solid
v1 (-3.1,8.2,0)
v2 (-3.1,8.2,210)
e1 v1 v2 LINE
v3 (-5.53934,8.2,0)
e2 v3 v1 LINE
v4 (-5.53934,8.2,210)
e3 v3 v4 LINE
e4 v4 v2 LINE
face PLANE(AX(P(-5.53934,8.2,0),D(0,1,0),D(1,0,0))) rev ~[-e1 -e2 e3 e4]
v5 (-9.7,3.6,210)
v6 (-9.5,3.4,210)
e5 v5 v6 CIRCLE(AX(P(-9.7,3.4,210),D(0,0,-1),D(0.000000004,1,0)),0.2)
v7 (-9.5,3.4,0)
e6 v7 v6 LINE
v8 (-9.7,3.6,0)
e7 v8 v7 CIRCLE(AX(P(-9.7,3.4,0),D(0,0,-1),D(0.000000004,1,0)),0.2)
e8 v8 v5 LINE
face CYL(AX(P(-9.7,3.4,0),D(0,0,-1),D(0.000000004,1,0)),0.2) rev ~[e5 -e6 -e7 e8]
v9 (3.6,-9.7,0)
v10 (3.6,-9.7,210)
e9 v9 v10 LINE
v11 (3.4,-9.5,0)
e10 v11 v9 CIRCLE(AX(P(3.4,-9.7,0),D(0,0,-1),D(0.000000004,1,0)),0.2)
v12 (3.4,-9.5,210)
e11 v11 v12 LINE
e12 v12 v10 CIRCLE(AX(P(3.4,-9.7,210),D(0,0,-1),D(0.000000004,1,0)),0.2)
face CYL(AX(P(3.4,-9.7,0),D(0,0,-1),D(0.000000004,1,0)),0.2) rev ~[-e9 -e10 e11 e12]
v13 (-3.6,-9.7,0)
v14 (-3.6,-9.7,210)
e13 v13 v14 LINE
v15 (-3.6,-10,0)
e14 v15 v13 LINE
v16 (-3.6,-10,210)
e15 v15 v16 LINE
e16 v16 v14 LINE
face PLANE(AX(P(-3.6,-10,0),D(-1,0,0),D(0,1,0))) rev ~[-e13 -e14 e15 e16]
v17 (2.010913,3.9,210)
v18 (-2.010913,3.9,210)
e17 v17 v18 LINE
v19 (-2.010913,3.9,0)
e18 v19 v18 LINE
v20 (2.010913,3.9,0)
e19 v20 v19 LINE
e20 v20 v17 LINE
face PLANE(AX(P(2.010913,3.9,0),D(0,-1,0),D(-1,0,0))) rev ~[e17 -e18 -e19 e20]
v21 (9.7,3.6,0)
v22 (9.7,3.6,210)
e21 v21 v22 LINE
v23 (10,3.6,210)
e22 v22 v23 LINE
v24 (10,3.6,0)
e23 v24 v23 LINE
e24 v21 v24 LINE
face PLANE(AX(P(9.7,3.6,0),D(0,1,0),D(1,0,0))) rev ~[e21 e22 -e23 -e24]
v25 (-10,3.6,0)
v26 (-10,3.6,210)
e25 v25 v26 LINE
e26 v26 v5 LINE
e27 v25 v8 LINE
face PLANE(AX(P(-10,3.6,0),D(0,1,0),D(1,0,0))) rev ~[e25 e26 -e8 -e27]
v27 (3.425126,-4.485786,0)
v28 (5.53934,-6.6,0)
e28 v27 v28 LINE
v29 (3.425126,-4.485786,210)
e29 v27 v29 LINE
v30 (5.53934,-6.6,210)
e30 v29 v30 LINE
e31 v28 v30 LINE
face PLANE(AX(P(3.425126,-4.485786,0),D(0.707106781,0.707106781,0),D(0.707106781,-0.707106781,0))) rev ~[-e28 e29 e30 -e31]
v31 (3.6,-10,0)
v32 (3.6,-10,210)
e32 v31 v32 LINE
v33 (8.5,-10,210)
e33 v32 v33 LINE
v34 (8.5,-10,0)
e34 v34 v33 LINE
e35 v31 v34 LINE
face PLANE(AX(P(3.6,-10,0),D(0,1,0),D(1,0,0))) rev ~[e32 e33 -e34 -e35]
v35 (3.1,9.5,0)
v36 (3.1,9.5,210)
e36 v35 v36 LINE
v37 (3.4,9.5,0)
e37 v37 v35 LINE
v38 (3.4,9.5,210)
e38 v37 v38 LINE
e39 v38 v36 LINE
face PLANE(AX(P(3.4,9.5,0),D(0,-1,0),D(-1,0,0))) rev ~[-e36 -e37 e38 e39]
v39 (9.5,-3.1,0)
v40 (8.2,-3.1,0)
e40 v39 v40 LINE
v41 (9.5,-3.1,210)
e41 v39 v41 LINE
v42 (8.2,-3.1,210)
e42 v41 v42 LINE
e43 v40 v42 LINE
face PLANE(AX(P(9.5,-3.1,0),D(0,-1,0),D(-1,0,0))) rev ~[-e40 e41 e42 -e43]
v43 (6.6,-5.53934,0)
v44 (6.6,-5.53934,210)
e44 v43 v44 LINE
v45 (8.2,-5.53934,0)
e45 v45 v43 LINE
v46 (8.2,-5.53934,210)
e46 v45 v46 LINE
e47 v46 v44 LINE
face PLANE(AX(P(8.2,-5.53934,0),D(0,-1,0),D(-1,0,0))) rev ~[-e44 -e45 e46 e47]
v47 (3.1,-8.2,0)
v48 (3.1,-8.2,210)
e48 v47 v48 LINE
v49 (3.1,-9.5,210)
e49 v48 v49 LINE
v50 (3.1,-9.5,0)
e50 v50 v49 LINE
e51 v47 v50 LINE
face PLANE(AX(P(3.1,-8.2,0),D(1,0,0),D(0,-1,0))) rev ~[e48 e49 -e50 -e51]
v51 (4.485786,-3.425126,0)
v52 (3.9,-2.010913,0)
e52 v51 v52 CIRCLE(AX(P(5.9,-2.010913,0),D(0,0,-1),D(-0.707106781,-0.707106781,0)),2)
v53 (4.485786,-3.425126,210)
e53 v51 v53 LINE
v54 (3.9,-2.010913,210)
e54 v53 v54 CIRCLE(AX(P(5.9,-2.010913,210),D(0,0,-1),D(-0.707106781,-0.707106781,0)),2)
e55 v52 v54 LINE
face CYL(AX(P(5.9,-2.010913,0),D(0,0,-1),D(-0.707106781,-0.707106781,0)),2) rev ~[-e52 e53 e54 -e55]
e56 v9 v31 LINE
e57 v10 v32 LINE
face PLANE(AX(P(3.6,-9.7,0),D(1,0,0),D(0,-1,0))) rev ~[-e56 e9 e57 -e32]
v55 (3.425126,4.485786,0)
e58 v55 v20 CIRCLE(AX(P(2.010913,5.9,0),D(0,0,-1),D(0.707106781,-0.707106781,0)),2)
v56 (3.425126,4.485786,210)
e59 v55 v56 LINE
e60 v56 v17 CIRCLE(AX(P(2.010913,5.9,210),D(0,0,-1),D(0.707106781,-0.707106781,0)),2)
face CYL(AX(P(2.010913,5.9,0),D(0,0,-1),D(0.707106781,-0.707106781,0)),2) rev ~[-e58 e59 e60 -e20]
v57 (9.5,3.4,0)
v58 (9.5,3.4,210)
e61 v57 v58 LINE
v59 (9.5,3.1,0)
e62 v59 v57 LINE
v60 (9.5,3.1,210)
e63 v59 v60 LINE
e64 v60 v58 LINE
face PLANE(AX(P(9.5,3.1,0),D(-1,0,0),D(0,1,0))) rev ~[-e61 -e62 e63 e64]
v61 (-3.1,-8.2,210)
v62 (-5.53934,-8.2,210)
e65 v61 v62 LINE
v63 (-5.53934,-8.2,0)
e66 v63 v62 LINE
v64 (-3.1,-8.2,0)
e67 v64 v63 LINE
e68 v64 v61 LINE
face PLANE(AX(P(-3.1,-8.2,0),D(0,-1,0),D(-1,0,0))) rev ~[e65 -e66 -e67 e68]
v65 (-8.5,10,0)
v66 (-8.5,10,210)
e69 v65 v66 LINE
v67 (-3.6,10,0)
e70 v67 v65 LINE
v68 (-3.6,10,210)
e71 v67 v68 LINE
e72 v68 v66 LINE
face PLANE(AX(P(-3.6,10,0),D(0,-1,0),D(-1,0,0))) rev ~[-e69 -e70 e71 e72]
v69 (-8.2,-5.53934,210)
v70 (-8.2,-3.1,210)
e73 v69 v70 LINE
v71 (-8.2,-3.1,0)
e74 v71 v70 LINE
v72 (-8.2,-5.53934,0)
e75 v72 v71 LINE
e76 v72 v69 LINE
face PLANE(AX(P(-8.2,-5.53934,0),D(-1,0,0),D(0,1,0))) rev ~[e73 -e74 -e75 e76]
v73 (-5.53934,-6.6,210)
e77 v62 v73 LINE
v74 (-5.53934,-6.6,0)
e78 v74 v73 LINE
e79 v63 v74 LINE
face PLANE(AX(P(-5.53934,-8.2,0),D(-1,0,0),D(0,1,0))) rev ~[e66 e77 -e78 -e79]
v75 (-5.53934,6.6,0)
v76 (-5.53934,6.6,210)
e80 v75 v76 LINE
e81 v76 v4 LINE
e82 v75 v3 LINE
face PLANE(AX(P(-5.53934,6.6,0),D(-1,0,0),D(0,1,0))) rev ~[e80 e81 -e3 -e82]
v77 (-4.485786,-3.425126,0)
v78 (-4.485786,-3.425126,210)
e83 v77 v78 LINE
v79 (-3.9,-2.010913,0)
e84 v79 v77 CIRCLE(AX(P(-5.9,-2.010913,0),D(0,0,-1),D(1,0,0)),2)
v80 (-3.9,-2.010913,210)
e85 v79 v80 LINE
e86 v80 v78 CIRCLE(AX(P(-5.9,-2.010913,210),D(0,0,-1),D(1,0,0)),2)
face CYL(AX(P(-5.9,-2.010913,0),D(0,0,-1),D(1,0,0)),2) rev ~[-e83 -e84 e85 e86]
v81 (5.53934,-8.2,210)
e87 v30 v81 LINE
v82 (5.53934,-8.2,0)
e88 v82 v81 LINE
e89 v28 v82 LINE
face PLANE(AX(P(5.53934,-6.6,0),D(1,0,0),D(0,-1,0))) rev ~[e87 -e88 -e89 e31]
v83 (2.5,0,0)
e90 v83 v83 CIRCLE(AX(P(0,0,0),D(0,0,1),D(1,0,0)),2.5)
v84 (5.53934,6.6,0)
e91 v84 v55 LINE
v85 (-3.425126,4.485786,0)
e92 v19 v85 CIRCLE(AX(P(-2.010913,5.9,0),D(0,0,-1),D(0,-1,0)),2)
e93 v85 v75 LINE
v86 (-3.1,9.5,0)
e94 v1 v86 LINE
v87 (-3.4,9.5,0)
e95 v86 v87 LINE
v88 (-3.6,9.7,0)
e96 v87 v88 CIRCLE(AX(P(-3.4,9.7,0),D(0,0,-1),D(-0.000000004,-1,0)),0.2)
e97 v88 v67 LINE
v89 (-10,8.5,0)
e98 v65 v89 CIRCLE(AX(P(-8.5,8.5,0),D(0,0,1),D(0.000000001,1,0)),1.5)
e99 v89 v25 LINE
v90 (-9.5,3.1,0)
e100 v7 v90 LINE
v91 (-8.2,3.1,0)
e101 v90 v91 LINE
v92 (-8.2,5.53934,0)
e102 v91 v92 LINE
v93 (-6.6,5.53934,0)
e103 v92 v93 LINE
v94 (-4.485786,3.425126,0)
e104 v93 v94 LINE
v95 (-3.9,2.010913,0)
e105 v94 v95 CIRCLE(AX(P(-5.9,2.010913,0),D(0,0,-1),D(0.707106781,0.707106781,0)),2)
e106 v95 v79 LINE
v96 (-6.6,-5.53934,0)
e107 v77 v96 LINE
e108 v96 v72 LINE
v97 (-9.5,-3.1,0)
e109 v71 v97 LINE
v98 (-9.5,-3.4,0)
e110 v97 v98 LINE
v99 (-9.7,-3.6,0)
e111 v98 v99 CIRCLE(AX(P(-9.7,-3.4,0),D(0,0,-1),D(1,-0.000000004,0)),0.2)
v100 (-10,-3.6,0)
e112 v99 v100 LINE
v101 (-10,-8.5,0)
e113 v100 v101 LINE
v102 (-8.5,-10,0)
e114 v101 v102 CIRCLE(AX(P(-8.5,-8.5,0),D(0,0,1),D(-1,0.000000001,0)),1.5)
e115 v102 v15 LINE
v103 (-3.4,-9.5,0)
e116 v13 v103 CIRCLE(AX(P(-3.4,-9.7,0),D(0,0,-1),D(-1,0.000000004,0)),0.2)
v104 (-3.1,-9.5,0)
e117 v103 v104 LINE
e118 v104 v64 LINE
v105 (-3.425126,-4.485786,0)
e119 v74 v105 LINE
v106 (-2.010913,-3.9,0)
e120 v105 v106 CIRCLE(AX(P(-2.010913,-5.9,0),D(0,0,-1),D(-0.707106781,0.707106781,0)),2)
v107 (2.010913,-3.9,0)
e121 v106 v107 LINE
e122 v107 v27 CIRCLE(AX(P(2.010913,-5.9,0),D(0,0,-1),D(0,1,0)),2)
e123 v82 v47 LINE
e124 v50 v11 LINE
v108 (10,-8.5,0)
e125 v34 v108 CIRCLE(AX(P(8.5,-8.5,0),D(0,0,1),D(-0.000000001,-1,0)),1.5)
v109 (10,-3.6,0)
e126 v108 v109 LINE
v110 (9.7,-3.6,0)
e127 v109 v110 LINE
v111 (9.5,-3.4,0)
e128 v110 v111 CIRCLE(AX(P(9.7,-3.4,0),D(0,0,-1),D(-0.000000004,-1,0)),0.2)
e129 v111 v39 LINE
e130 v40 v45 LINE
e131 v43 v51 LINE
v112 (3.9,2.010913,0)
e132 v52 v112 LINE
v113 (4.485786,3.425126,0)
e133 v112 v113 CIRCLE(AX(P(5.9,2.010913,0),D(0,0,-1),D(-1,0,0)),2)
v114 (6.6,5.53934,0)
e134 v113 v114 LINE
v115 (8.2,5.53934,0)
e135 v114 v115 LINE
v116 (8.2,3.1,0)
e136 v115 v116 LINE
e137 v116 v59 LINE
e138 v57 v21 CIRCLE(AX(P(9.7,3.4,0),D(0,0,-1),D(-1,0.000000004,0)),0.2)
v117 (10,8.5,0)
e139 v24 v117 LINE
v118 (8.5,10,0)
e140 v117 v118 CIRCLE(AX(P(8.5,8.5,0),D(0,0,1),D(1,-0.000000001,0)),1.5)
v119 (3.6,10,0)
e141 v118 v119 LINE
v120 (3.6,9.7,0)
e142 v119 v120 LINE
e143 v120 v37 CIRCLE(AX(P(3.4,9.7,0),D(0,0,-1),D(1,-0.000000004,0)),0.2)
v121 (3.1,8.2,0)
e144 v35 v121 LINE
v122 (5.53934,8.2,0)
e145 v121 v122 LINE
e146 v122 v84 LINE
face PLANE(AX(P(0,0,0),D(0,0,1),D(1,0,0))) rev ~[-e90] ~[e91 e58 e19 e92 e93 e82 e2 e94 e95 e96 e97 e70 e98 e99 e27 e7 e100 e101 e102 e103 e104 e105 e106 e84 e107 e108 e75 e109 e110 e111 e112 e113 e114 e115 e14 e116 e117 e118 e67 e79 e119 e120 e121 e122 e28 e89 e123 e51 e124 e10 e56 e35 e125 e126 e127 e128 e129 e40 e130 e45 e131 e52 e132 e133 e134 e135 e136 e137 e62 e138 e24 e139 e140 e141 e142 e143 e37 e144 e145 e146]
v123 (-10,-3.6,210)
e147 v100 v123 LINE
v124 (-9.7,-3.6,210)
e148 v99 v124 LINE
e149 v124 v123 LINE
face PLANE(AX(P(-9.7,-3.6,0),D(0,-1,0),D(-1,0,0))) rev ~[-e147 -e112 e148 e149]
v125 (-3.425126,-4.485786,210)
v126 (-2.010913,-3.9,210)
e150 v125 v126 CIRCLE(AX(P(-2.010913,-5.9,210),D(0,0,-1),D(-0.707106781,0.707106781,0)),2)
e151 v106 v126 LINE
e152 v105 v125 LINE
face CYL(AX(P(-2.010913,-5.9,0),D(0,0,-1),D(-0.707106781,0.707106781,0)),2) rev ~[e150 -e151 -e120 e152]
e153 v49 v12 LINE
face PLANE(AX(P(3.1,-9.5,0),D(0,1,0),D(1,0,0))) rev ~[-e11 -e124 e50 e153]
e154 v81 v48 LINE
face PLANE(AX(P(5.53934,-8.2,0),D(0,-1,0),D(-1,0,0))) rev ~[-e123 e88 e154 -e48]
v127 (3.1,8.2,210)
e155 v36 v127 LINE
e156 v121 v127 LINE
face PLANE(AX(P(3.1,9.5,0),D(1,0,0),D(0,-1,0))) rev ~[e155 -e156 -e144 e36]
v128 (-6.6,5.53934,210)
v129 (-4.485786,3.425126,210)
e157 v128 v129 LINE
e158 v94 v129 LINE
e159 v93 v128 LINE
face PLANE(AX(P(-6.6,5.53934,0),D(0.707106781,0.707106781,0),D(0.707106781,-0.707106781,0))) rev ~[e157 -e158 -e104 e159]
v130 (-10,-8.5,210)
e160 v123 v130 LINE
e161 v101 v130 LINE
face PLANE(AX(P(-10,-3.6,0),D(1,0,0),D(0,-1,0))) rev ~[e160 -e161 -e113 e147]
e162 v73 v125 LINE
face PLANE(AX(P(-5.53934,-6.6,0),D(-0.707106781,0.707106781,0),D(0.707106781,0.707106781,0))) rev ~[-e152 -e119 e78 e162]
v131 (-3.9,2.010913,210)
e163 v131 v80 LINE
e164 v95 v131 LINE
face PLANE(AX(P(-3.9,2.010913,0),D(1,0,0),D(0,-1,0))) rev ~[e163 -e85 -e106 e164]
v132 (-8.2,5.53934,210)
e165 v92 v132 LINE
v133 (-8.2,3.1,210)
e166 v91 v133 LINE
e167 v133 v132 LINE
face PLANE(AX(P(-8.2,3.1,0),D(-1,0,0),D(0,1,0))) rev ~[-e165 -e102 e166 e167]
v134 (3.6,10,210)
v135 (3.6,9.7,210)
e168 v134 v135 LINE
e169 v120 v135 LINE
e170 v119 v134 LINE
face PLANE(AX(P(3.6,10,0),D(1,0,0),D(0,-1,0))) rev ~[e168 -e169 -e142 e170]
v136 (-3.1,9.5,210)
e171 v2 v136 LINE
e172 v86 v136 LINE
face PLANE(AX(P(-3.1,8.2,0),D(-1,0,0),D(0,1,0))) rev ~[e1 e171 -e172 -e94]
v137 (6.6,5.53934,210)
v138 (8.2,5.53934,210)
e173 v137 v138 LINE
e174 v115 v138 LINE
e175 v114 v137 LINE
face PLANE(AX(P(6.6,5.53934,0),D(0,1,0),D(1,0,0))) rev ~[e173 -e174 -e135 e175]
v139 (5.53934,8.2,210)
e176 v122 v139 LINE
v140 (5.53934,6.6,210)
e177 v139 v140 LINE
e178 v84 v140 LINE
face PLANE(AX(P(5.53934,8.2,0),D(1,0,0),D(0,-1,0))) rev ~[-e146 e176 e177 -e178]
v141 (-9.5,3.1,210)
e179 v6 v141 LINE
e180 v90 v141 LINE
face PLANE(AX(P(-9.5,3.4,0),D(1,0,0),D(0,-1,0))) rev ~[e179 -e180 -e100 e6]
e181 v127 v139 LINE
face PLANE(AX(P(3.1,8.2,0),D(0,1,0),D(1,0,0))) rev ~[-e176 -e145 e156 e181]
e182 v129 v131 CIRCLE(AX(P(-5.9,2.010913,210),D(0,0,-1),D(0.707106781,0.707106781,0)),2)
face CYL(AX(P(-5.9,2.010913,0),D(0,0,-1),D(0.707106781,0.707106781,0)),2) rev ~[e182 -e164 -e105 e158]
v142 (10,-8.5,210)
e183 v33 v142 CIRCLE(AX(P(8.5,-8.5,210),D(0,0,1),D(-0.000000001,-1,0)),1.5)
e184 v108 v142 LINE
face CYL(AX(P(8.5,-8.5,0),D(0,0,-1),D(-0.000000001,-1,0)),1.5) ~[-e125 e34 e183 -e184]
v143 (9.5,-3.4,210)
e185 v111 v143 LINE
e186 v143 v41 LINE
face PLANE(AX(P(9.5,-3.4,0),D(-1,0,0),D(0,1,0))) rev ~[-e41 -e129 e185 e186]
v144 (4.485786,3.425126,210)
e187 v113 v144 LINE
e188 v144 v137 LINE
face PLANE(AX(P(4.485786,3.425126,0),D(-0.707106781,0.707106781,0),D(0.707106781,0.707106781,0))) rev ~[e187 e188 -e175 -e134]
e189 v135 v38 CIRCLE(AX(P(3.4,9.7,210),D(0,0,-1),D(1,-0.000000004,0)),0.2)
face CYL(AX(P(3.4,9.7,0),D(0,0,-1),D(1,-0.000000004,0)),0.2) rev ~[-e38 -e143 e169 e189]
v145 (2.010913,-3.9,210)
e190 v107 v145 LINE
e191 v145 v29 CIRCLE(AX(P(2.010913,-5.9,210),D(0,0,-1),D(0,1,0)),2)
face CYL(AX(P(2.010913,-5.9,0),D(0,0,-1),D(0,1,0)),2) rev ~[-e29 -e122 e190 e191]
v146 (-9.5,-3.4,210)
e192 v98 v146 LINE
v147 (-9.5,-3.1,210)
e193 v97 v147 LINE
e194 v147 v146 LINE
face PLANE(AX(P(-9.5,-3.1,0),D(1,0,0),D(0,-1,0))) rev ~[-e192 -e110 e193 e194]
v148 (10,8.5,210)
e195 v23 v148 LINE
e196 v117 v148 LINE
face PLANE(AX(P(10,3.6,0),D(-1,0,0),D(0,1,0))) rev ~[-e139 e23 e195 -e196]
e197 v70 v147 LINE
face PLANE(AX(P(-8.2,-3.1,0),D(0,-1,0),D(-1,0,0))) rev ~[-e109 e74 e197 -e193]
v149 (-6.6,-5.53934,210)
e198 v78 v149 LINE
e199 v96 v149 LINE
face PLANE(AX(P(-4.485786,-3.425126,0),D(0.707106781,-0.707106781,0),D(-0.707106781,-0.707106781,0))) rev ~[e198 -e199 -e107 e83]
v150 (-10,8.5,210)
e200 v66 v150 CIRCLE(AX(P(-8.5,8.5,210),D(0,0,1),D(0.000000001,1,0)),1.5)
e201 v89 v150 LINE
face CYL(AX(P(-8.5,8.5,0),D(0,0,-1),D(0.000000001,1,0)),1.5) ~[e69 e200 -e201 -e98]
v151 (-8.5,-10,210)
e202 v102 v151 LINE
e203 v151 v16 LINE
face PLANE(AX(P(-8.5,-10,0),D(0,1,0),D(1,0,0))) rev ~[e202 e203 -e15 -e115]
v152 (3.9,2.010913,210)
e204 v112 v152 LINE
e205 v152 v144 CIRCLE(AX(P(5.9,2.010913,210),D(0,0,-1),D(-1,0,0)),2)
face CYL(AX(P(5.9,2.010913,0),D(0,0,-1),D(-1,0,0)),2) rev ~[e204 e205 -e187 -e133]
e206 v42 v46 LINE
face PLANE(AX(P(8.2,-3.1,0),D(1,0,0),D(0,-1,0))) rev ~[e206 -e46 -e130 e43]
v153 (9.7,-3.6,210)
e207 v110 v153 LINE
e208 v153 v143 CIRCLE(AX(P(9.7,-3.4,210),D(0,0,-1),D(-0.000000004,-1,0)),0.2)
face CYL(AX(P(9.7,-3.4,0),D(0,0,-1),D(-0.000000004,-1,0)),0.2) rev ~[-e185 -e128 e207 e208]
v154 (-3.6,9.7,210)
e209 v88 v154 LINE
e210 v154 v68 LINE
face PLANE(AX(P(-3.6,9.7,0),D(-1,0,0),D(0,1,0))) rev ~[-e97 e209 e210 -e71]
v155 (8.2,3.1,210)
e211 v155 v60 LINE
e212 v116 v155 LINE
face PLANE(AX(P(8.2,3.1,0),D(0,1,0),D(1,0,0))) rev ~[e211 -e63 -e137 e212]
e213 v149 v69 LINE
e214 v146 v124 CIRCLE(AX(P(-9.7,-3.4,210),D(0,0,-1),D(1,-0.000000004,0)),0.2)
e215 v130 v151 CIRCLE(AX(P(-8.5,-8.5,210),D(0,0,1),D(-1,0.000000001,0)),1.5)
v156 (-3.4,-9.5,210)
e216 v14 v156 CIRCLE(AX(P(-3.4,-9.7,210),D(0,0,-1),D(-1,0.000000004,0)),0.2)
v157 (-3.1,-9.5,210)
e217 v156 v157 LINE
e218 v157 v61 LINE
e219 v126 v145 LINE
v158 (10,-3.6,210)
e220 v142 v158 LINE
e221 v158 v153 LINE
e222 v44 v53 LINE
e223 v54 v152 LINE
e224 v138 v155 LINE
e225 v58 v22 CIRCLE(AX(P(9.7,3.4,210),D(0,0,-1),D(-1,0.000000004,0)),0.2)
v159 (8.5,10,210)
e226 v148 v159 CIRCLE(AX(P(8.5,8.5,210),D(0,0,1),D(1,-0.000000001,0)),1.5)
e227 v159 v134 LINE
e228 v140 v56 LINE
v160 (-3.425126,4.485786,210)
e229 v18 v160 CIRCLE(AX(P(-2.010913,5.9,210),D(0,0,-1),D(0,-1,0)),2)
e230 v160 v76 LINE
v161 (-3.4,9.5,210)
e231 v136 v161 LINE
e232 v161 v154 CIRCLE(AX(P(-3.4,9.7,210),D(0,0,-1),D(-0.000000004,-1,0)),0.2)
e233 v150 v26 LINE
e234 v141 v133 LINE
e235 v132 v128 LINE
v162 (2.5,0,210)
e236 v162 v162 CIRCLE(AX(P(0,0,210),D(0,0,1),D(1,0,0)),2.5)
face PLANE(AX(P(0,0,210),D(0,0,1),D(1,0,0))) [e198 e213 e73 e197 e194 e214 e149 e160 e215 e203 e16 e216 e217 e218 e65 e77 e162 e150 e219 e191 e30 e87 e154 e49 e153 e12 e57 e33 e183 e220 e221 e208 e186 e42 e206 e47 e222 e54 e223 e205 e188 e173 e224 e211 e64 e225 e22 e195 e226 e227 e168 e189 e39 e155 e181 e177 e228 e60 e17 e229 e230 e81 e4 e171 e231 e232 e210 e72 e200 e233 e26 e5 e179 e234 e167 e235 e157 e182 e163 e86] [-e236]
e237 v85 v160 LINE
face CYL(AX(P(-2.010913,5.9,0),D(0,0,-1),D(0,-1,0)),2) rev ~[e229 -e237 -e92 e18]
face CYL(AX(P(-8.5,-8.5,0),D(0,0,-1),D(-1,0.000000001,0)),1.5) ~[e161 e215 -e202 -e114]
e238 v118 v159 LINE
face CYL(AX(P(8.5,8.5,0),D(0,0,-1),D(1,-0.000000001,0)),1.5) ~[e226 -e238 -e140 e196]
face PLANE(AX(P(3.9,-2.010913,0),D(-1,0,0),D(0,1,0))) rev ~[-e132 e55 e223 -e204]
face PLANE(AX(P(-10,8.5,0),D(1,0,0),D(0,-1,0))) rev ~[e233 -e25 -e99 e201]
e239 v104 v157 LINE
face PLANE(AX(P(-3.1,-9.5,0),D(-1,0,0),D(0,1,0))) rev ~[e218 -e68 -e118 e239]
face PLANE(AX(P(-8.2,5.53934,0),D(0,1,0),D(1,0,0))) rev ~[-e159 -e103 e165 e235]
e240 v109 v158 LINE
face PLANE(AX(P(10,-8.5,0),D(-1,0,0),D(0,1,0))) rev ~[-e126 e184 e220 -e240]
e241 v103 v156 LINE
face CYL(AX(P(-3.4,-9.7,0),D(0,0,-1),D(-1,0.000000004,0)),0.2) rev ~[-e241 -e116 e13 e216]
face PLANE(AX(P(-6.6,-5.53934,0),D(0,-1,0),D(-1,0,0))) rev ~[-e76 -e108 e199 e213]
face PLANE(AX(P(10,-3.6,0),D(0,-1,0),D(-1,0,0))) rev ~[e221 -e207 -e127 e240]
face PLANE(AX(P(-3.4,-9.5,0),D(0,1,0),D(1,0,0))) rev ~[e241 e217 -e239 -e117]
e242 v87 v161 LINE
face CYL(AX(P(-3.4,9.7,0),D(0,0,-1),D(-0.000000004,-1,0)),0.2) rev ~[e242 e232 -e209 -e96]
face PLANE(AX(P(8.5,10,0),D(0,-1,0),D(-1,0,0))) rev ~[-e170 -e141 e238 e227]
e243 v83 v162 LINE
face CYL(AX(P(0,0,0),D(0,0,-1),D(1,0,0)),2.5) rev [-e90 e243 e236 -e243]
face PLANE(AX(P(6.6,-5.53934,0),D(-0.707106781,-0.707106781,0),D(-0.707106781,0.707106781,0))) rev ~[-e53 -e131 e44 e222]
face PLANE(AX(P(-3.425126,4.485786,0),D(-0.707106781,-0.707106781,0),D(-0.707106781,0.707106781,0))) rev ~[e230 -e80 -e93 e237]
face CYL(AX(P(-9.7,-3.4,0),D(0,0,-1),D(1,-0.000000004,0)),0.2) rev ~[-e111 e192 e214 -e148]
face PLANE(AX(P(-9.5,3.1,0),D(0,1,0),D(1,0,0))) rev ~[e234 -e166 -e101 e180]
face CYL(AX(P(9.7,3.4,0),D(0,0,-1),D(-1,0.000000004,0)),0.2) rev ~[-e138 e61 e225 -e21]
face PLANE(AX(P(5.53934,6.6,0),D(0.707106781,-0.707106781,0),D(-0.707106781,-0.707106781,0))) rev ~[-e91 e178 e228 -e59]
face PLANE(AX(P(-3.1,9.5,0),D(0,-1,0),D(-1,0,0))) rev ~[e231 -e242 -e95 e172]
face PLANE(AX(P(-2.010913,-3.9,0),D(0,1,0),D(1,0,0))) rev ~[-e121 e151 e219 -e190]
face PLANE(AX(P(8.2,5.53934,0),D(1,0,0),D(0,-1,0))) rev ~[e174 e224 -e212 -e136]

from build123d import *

# Parameters (mm, degrees)
SKETCH1_R       = 2.5
EXTRUDE_1_DEPTH = 210


with BuildPart() as part:
    # Sketch1 → Бобышка-Вытянуть1 (new body)
    with BuildSketch(Plane.XY):
        with BuildLine():
            Line((0, 3.9), (-2.010912703, 3.9))
            ThreePointArc((-2.010912703, 3.9), (-2.776279568, 4.052240935), (-3.425126266, 4.485786438))
            Line((-3.425126266, 4.485786438), (-5.539339828, 6.6))
            Line((-5.539339828, 6.6), (-5.539339828, 8.2))
            Line((-5.539339828, 8.2), (-3.1, 8.2))
            Line((-3.1, 8.2), (-3.1, 9.5))
            Line((-3.1, 9.5), (-3.4, 9.5))
            ThreePointArc((-3.4, 9.5), (-3.541421356, 9.558578644), (-3.6, 9.7))
            Line((-3.6, 9.7), (-3.6, 10))
            Line((-3.6, 10), (-8.5, 10))
            ThreePointArc((-8.5, 10), (-9.560660172, 9.560660172), (-10, 8.5))
            Line((-10, 8.5), (-10, 3.6))
            Line((-10, 3.6), (-9.7, 3.6))
            ThreePointArc((-9.7, 3.6), (-9.558578644, 3.541421356), (-9.5, 3.4))
            Line((-9.5, 3.4), (-9.5, 3.1))
            Line((-9.5, 3.1), (-8.2, 3.1))
            Line((-8.2, 3.1), (-8.2, 5.539339828))
            Line((-8.2, 5.539339828), (-6.6, 5.539339828))
            Line((-6.6, 5.539339828), (-4.485786438, 3.425126266))
            ThreePointArc((-4.485786438, 3.425126266), (-4.052240935, 2.776279568), (-3.9, 2.010912703))
            Line((-3.9, 2.010912703), (-3.9, 0))
            Line((-3.9, 0), (-3.9, -2.010912703))
            ThreePointArc((-3.9, -2.010912703), (-4.052240935, -2.776279568), (-4.485786438, -3.425126266))
            Line((-4.485786438, -3.425126266), (-6.6, -5.539339828))
            Line((-6.6, -5.539339828), (-8.2, -5.539339828))
            Line((-8.2, -5.539339828), (-8.2, -3.1))
            Line((-8.2, -3.1), (-9.5, -3.1))
            Line((-9.5, -3.1), (-9.5, -3.4))
            ThreePointArc((-9.5, -3.4), (-9.558578644, -3.541421356), (-9.7, -3.6))
            Line((-9.7, -3.6), (-10, -3.6))
            Line((-10, -3.6), (-10, -8.5))
            ThreePointArc((-10, -8.5), (-9.560660172, -9.560660172), (-8.5, -10))
            Line((-8.5, -10), (-3.6, -10))
            Line((-3.6, -10), (-3.6, -9.7))
            ThreePointArc((-3.6, -9.7), (-3.541421356, -9.558578644), (-3.4, -9.5))
            Line((-3.4, -9.5), (-3.1, -9.5))
            Line((-3.1, -9.5), (-3.1, -8.2))
            Line((-3.1, -8.2), (-5.539339828, -8.2))
            Line((-5.539339828, -8.2), (-5.539339828, -6.6))
            Line((-5.539339828, -6.6), (-3.425126266, -4.485786438))
            ThreePointArc((-3.425126266, -4.485786438), (-2.776279568, -4.052240935), (-2.010912703, -3.9))
            Line((-2.010912703, -3.9), (0, -3.9))
            Line((0, -3.9), (2.010912703, -3.9))
            ThreePointArc((2.010912703, -3.9), (2.776279568, -4.052240935), (3.425126266, -4.485786438))
            Line((3.425126266, -4.485786438), (5.539339828, -6.6))
            Line((5.539339828, -6.6), (5.539339828, -8.2))
            Line((5.539339828, -8.2), (3.1, -8.2))
            Line((3.1, -8.2), (3.1, -9.5))
            Line((3.1, -9.5), (3.4, -9.5))
            ThreePointArc((3.4, -9.5), (3.541421356, -9.558578644), (3.6, -9.7))
            Line((3.6, -9.7), (3.6, -10))
            Line((3.6, -10), (8.5, -10))
            ThreePointArc((8.5, -10), (9.560660172, -9.560660172), (10, -8.5))
            Line((10, -8.5), (10, -3.6))
            Line((10, -3.6), (9.7, -3.6))
            ThreePointArc((9.7, -3.6), (9.558578644, -3.541421356), (9.5, -3.4))
            Line((9.5, -3.4), (9.5, -3.1))
            Line((9.5, -3.1), (8.2, -3.1))
            Line((8.2, -3.1), (8.2, -5.539339828))
            Line((8.2, -5.539339828), (6.6, -5.539339828))
            Line((6.6, -5.539339828), (4.485786438, -3.425126266))
            ThreePointArc((4.485786438, -3.425126266), (4.052240935, -2.776279568), (3.9, -2.010912703))
            Line((3.9, -2.010912703), (3.9, 0))
            Line((3.9, 0), (3.9, 2.010912703))
            ThreePointArc((3.9, 2.010912703), (4.052240935, 2.776279568), (4.485786438, 3.425126266))
            Line((4.485786438, 3.425126266), (6.6, 5.539339828))
            Line((6.6, 5.539339828), (8.2, 5.539339828))
            Line((8.2, 5.539339828), (8.2, 3.1))
            Line((8.2, 3.1), (9.5, 3.1))
            Line((9.5, 3.1), (9.5, 3.4))
            ThreePointArc((9.5, 3.4), (9.558578644, 3.541421356), (9.7, 3.6))
            Line((9.7, 3.6), (10, 3.6))
            Line((10, 3.6), (10, 8.5))
            ThreePointArc((10, 8.5), (9.560660172, 9.560660172), (8.5, 10))
            Line((8.5, 10), (3.6, 10))
            Line((3.6, 10), (3.6, 9.7))
            ThreePointArc((3.6, 9.7), (3.541421356, 9.558578644), (3.4, 9.5))
            Line((3.4, 9.5), (3.1, 9.5))
            Line((3.1, 9.5), (3.1, 8.2))
            Line((3.1, 8.2), (5.539339828, 8.2))
            Line((5.539339828, 8.2), (5.539339828, 6.6))
            Line((5.539339828, 6.6), (3.425126266, 4.485786438))
            ThreePointArc((3.425126266, 4.485786438), (2.776279568, 4.052240935), (2.010912703, 3.9))
            Line((2.010912703, 3.9), (0, 3.9))
        make_face()
        Circle(SKETCH1_R, mode=Mode.SUBTRACT)
    extrude(amount=EXTRUDE_1_DEPTH)


solid = part.part
